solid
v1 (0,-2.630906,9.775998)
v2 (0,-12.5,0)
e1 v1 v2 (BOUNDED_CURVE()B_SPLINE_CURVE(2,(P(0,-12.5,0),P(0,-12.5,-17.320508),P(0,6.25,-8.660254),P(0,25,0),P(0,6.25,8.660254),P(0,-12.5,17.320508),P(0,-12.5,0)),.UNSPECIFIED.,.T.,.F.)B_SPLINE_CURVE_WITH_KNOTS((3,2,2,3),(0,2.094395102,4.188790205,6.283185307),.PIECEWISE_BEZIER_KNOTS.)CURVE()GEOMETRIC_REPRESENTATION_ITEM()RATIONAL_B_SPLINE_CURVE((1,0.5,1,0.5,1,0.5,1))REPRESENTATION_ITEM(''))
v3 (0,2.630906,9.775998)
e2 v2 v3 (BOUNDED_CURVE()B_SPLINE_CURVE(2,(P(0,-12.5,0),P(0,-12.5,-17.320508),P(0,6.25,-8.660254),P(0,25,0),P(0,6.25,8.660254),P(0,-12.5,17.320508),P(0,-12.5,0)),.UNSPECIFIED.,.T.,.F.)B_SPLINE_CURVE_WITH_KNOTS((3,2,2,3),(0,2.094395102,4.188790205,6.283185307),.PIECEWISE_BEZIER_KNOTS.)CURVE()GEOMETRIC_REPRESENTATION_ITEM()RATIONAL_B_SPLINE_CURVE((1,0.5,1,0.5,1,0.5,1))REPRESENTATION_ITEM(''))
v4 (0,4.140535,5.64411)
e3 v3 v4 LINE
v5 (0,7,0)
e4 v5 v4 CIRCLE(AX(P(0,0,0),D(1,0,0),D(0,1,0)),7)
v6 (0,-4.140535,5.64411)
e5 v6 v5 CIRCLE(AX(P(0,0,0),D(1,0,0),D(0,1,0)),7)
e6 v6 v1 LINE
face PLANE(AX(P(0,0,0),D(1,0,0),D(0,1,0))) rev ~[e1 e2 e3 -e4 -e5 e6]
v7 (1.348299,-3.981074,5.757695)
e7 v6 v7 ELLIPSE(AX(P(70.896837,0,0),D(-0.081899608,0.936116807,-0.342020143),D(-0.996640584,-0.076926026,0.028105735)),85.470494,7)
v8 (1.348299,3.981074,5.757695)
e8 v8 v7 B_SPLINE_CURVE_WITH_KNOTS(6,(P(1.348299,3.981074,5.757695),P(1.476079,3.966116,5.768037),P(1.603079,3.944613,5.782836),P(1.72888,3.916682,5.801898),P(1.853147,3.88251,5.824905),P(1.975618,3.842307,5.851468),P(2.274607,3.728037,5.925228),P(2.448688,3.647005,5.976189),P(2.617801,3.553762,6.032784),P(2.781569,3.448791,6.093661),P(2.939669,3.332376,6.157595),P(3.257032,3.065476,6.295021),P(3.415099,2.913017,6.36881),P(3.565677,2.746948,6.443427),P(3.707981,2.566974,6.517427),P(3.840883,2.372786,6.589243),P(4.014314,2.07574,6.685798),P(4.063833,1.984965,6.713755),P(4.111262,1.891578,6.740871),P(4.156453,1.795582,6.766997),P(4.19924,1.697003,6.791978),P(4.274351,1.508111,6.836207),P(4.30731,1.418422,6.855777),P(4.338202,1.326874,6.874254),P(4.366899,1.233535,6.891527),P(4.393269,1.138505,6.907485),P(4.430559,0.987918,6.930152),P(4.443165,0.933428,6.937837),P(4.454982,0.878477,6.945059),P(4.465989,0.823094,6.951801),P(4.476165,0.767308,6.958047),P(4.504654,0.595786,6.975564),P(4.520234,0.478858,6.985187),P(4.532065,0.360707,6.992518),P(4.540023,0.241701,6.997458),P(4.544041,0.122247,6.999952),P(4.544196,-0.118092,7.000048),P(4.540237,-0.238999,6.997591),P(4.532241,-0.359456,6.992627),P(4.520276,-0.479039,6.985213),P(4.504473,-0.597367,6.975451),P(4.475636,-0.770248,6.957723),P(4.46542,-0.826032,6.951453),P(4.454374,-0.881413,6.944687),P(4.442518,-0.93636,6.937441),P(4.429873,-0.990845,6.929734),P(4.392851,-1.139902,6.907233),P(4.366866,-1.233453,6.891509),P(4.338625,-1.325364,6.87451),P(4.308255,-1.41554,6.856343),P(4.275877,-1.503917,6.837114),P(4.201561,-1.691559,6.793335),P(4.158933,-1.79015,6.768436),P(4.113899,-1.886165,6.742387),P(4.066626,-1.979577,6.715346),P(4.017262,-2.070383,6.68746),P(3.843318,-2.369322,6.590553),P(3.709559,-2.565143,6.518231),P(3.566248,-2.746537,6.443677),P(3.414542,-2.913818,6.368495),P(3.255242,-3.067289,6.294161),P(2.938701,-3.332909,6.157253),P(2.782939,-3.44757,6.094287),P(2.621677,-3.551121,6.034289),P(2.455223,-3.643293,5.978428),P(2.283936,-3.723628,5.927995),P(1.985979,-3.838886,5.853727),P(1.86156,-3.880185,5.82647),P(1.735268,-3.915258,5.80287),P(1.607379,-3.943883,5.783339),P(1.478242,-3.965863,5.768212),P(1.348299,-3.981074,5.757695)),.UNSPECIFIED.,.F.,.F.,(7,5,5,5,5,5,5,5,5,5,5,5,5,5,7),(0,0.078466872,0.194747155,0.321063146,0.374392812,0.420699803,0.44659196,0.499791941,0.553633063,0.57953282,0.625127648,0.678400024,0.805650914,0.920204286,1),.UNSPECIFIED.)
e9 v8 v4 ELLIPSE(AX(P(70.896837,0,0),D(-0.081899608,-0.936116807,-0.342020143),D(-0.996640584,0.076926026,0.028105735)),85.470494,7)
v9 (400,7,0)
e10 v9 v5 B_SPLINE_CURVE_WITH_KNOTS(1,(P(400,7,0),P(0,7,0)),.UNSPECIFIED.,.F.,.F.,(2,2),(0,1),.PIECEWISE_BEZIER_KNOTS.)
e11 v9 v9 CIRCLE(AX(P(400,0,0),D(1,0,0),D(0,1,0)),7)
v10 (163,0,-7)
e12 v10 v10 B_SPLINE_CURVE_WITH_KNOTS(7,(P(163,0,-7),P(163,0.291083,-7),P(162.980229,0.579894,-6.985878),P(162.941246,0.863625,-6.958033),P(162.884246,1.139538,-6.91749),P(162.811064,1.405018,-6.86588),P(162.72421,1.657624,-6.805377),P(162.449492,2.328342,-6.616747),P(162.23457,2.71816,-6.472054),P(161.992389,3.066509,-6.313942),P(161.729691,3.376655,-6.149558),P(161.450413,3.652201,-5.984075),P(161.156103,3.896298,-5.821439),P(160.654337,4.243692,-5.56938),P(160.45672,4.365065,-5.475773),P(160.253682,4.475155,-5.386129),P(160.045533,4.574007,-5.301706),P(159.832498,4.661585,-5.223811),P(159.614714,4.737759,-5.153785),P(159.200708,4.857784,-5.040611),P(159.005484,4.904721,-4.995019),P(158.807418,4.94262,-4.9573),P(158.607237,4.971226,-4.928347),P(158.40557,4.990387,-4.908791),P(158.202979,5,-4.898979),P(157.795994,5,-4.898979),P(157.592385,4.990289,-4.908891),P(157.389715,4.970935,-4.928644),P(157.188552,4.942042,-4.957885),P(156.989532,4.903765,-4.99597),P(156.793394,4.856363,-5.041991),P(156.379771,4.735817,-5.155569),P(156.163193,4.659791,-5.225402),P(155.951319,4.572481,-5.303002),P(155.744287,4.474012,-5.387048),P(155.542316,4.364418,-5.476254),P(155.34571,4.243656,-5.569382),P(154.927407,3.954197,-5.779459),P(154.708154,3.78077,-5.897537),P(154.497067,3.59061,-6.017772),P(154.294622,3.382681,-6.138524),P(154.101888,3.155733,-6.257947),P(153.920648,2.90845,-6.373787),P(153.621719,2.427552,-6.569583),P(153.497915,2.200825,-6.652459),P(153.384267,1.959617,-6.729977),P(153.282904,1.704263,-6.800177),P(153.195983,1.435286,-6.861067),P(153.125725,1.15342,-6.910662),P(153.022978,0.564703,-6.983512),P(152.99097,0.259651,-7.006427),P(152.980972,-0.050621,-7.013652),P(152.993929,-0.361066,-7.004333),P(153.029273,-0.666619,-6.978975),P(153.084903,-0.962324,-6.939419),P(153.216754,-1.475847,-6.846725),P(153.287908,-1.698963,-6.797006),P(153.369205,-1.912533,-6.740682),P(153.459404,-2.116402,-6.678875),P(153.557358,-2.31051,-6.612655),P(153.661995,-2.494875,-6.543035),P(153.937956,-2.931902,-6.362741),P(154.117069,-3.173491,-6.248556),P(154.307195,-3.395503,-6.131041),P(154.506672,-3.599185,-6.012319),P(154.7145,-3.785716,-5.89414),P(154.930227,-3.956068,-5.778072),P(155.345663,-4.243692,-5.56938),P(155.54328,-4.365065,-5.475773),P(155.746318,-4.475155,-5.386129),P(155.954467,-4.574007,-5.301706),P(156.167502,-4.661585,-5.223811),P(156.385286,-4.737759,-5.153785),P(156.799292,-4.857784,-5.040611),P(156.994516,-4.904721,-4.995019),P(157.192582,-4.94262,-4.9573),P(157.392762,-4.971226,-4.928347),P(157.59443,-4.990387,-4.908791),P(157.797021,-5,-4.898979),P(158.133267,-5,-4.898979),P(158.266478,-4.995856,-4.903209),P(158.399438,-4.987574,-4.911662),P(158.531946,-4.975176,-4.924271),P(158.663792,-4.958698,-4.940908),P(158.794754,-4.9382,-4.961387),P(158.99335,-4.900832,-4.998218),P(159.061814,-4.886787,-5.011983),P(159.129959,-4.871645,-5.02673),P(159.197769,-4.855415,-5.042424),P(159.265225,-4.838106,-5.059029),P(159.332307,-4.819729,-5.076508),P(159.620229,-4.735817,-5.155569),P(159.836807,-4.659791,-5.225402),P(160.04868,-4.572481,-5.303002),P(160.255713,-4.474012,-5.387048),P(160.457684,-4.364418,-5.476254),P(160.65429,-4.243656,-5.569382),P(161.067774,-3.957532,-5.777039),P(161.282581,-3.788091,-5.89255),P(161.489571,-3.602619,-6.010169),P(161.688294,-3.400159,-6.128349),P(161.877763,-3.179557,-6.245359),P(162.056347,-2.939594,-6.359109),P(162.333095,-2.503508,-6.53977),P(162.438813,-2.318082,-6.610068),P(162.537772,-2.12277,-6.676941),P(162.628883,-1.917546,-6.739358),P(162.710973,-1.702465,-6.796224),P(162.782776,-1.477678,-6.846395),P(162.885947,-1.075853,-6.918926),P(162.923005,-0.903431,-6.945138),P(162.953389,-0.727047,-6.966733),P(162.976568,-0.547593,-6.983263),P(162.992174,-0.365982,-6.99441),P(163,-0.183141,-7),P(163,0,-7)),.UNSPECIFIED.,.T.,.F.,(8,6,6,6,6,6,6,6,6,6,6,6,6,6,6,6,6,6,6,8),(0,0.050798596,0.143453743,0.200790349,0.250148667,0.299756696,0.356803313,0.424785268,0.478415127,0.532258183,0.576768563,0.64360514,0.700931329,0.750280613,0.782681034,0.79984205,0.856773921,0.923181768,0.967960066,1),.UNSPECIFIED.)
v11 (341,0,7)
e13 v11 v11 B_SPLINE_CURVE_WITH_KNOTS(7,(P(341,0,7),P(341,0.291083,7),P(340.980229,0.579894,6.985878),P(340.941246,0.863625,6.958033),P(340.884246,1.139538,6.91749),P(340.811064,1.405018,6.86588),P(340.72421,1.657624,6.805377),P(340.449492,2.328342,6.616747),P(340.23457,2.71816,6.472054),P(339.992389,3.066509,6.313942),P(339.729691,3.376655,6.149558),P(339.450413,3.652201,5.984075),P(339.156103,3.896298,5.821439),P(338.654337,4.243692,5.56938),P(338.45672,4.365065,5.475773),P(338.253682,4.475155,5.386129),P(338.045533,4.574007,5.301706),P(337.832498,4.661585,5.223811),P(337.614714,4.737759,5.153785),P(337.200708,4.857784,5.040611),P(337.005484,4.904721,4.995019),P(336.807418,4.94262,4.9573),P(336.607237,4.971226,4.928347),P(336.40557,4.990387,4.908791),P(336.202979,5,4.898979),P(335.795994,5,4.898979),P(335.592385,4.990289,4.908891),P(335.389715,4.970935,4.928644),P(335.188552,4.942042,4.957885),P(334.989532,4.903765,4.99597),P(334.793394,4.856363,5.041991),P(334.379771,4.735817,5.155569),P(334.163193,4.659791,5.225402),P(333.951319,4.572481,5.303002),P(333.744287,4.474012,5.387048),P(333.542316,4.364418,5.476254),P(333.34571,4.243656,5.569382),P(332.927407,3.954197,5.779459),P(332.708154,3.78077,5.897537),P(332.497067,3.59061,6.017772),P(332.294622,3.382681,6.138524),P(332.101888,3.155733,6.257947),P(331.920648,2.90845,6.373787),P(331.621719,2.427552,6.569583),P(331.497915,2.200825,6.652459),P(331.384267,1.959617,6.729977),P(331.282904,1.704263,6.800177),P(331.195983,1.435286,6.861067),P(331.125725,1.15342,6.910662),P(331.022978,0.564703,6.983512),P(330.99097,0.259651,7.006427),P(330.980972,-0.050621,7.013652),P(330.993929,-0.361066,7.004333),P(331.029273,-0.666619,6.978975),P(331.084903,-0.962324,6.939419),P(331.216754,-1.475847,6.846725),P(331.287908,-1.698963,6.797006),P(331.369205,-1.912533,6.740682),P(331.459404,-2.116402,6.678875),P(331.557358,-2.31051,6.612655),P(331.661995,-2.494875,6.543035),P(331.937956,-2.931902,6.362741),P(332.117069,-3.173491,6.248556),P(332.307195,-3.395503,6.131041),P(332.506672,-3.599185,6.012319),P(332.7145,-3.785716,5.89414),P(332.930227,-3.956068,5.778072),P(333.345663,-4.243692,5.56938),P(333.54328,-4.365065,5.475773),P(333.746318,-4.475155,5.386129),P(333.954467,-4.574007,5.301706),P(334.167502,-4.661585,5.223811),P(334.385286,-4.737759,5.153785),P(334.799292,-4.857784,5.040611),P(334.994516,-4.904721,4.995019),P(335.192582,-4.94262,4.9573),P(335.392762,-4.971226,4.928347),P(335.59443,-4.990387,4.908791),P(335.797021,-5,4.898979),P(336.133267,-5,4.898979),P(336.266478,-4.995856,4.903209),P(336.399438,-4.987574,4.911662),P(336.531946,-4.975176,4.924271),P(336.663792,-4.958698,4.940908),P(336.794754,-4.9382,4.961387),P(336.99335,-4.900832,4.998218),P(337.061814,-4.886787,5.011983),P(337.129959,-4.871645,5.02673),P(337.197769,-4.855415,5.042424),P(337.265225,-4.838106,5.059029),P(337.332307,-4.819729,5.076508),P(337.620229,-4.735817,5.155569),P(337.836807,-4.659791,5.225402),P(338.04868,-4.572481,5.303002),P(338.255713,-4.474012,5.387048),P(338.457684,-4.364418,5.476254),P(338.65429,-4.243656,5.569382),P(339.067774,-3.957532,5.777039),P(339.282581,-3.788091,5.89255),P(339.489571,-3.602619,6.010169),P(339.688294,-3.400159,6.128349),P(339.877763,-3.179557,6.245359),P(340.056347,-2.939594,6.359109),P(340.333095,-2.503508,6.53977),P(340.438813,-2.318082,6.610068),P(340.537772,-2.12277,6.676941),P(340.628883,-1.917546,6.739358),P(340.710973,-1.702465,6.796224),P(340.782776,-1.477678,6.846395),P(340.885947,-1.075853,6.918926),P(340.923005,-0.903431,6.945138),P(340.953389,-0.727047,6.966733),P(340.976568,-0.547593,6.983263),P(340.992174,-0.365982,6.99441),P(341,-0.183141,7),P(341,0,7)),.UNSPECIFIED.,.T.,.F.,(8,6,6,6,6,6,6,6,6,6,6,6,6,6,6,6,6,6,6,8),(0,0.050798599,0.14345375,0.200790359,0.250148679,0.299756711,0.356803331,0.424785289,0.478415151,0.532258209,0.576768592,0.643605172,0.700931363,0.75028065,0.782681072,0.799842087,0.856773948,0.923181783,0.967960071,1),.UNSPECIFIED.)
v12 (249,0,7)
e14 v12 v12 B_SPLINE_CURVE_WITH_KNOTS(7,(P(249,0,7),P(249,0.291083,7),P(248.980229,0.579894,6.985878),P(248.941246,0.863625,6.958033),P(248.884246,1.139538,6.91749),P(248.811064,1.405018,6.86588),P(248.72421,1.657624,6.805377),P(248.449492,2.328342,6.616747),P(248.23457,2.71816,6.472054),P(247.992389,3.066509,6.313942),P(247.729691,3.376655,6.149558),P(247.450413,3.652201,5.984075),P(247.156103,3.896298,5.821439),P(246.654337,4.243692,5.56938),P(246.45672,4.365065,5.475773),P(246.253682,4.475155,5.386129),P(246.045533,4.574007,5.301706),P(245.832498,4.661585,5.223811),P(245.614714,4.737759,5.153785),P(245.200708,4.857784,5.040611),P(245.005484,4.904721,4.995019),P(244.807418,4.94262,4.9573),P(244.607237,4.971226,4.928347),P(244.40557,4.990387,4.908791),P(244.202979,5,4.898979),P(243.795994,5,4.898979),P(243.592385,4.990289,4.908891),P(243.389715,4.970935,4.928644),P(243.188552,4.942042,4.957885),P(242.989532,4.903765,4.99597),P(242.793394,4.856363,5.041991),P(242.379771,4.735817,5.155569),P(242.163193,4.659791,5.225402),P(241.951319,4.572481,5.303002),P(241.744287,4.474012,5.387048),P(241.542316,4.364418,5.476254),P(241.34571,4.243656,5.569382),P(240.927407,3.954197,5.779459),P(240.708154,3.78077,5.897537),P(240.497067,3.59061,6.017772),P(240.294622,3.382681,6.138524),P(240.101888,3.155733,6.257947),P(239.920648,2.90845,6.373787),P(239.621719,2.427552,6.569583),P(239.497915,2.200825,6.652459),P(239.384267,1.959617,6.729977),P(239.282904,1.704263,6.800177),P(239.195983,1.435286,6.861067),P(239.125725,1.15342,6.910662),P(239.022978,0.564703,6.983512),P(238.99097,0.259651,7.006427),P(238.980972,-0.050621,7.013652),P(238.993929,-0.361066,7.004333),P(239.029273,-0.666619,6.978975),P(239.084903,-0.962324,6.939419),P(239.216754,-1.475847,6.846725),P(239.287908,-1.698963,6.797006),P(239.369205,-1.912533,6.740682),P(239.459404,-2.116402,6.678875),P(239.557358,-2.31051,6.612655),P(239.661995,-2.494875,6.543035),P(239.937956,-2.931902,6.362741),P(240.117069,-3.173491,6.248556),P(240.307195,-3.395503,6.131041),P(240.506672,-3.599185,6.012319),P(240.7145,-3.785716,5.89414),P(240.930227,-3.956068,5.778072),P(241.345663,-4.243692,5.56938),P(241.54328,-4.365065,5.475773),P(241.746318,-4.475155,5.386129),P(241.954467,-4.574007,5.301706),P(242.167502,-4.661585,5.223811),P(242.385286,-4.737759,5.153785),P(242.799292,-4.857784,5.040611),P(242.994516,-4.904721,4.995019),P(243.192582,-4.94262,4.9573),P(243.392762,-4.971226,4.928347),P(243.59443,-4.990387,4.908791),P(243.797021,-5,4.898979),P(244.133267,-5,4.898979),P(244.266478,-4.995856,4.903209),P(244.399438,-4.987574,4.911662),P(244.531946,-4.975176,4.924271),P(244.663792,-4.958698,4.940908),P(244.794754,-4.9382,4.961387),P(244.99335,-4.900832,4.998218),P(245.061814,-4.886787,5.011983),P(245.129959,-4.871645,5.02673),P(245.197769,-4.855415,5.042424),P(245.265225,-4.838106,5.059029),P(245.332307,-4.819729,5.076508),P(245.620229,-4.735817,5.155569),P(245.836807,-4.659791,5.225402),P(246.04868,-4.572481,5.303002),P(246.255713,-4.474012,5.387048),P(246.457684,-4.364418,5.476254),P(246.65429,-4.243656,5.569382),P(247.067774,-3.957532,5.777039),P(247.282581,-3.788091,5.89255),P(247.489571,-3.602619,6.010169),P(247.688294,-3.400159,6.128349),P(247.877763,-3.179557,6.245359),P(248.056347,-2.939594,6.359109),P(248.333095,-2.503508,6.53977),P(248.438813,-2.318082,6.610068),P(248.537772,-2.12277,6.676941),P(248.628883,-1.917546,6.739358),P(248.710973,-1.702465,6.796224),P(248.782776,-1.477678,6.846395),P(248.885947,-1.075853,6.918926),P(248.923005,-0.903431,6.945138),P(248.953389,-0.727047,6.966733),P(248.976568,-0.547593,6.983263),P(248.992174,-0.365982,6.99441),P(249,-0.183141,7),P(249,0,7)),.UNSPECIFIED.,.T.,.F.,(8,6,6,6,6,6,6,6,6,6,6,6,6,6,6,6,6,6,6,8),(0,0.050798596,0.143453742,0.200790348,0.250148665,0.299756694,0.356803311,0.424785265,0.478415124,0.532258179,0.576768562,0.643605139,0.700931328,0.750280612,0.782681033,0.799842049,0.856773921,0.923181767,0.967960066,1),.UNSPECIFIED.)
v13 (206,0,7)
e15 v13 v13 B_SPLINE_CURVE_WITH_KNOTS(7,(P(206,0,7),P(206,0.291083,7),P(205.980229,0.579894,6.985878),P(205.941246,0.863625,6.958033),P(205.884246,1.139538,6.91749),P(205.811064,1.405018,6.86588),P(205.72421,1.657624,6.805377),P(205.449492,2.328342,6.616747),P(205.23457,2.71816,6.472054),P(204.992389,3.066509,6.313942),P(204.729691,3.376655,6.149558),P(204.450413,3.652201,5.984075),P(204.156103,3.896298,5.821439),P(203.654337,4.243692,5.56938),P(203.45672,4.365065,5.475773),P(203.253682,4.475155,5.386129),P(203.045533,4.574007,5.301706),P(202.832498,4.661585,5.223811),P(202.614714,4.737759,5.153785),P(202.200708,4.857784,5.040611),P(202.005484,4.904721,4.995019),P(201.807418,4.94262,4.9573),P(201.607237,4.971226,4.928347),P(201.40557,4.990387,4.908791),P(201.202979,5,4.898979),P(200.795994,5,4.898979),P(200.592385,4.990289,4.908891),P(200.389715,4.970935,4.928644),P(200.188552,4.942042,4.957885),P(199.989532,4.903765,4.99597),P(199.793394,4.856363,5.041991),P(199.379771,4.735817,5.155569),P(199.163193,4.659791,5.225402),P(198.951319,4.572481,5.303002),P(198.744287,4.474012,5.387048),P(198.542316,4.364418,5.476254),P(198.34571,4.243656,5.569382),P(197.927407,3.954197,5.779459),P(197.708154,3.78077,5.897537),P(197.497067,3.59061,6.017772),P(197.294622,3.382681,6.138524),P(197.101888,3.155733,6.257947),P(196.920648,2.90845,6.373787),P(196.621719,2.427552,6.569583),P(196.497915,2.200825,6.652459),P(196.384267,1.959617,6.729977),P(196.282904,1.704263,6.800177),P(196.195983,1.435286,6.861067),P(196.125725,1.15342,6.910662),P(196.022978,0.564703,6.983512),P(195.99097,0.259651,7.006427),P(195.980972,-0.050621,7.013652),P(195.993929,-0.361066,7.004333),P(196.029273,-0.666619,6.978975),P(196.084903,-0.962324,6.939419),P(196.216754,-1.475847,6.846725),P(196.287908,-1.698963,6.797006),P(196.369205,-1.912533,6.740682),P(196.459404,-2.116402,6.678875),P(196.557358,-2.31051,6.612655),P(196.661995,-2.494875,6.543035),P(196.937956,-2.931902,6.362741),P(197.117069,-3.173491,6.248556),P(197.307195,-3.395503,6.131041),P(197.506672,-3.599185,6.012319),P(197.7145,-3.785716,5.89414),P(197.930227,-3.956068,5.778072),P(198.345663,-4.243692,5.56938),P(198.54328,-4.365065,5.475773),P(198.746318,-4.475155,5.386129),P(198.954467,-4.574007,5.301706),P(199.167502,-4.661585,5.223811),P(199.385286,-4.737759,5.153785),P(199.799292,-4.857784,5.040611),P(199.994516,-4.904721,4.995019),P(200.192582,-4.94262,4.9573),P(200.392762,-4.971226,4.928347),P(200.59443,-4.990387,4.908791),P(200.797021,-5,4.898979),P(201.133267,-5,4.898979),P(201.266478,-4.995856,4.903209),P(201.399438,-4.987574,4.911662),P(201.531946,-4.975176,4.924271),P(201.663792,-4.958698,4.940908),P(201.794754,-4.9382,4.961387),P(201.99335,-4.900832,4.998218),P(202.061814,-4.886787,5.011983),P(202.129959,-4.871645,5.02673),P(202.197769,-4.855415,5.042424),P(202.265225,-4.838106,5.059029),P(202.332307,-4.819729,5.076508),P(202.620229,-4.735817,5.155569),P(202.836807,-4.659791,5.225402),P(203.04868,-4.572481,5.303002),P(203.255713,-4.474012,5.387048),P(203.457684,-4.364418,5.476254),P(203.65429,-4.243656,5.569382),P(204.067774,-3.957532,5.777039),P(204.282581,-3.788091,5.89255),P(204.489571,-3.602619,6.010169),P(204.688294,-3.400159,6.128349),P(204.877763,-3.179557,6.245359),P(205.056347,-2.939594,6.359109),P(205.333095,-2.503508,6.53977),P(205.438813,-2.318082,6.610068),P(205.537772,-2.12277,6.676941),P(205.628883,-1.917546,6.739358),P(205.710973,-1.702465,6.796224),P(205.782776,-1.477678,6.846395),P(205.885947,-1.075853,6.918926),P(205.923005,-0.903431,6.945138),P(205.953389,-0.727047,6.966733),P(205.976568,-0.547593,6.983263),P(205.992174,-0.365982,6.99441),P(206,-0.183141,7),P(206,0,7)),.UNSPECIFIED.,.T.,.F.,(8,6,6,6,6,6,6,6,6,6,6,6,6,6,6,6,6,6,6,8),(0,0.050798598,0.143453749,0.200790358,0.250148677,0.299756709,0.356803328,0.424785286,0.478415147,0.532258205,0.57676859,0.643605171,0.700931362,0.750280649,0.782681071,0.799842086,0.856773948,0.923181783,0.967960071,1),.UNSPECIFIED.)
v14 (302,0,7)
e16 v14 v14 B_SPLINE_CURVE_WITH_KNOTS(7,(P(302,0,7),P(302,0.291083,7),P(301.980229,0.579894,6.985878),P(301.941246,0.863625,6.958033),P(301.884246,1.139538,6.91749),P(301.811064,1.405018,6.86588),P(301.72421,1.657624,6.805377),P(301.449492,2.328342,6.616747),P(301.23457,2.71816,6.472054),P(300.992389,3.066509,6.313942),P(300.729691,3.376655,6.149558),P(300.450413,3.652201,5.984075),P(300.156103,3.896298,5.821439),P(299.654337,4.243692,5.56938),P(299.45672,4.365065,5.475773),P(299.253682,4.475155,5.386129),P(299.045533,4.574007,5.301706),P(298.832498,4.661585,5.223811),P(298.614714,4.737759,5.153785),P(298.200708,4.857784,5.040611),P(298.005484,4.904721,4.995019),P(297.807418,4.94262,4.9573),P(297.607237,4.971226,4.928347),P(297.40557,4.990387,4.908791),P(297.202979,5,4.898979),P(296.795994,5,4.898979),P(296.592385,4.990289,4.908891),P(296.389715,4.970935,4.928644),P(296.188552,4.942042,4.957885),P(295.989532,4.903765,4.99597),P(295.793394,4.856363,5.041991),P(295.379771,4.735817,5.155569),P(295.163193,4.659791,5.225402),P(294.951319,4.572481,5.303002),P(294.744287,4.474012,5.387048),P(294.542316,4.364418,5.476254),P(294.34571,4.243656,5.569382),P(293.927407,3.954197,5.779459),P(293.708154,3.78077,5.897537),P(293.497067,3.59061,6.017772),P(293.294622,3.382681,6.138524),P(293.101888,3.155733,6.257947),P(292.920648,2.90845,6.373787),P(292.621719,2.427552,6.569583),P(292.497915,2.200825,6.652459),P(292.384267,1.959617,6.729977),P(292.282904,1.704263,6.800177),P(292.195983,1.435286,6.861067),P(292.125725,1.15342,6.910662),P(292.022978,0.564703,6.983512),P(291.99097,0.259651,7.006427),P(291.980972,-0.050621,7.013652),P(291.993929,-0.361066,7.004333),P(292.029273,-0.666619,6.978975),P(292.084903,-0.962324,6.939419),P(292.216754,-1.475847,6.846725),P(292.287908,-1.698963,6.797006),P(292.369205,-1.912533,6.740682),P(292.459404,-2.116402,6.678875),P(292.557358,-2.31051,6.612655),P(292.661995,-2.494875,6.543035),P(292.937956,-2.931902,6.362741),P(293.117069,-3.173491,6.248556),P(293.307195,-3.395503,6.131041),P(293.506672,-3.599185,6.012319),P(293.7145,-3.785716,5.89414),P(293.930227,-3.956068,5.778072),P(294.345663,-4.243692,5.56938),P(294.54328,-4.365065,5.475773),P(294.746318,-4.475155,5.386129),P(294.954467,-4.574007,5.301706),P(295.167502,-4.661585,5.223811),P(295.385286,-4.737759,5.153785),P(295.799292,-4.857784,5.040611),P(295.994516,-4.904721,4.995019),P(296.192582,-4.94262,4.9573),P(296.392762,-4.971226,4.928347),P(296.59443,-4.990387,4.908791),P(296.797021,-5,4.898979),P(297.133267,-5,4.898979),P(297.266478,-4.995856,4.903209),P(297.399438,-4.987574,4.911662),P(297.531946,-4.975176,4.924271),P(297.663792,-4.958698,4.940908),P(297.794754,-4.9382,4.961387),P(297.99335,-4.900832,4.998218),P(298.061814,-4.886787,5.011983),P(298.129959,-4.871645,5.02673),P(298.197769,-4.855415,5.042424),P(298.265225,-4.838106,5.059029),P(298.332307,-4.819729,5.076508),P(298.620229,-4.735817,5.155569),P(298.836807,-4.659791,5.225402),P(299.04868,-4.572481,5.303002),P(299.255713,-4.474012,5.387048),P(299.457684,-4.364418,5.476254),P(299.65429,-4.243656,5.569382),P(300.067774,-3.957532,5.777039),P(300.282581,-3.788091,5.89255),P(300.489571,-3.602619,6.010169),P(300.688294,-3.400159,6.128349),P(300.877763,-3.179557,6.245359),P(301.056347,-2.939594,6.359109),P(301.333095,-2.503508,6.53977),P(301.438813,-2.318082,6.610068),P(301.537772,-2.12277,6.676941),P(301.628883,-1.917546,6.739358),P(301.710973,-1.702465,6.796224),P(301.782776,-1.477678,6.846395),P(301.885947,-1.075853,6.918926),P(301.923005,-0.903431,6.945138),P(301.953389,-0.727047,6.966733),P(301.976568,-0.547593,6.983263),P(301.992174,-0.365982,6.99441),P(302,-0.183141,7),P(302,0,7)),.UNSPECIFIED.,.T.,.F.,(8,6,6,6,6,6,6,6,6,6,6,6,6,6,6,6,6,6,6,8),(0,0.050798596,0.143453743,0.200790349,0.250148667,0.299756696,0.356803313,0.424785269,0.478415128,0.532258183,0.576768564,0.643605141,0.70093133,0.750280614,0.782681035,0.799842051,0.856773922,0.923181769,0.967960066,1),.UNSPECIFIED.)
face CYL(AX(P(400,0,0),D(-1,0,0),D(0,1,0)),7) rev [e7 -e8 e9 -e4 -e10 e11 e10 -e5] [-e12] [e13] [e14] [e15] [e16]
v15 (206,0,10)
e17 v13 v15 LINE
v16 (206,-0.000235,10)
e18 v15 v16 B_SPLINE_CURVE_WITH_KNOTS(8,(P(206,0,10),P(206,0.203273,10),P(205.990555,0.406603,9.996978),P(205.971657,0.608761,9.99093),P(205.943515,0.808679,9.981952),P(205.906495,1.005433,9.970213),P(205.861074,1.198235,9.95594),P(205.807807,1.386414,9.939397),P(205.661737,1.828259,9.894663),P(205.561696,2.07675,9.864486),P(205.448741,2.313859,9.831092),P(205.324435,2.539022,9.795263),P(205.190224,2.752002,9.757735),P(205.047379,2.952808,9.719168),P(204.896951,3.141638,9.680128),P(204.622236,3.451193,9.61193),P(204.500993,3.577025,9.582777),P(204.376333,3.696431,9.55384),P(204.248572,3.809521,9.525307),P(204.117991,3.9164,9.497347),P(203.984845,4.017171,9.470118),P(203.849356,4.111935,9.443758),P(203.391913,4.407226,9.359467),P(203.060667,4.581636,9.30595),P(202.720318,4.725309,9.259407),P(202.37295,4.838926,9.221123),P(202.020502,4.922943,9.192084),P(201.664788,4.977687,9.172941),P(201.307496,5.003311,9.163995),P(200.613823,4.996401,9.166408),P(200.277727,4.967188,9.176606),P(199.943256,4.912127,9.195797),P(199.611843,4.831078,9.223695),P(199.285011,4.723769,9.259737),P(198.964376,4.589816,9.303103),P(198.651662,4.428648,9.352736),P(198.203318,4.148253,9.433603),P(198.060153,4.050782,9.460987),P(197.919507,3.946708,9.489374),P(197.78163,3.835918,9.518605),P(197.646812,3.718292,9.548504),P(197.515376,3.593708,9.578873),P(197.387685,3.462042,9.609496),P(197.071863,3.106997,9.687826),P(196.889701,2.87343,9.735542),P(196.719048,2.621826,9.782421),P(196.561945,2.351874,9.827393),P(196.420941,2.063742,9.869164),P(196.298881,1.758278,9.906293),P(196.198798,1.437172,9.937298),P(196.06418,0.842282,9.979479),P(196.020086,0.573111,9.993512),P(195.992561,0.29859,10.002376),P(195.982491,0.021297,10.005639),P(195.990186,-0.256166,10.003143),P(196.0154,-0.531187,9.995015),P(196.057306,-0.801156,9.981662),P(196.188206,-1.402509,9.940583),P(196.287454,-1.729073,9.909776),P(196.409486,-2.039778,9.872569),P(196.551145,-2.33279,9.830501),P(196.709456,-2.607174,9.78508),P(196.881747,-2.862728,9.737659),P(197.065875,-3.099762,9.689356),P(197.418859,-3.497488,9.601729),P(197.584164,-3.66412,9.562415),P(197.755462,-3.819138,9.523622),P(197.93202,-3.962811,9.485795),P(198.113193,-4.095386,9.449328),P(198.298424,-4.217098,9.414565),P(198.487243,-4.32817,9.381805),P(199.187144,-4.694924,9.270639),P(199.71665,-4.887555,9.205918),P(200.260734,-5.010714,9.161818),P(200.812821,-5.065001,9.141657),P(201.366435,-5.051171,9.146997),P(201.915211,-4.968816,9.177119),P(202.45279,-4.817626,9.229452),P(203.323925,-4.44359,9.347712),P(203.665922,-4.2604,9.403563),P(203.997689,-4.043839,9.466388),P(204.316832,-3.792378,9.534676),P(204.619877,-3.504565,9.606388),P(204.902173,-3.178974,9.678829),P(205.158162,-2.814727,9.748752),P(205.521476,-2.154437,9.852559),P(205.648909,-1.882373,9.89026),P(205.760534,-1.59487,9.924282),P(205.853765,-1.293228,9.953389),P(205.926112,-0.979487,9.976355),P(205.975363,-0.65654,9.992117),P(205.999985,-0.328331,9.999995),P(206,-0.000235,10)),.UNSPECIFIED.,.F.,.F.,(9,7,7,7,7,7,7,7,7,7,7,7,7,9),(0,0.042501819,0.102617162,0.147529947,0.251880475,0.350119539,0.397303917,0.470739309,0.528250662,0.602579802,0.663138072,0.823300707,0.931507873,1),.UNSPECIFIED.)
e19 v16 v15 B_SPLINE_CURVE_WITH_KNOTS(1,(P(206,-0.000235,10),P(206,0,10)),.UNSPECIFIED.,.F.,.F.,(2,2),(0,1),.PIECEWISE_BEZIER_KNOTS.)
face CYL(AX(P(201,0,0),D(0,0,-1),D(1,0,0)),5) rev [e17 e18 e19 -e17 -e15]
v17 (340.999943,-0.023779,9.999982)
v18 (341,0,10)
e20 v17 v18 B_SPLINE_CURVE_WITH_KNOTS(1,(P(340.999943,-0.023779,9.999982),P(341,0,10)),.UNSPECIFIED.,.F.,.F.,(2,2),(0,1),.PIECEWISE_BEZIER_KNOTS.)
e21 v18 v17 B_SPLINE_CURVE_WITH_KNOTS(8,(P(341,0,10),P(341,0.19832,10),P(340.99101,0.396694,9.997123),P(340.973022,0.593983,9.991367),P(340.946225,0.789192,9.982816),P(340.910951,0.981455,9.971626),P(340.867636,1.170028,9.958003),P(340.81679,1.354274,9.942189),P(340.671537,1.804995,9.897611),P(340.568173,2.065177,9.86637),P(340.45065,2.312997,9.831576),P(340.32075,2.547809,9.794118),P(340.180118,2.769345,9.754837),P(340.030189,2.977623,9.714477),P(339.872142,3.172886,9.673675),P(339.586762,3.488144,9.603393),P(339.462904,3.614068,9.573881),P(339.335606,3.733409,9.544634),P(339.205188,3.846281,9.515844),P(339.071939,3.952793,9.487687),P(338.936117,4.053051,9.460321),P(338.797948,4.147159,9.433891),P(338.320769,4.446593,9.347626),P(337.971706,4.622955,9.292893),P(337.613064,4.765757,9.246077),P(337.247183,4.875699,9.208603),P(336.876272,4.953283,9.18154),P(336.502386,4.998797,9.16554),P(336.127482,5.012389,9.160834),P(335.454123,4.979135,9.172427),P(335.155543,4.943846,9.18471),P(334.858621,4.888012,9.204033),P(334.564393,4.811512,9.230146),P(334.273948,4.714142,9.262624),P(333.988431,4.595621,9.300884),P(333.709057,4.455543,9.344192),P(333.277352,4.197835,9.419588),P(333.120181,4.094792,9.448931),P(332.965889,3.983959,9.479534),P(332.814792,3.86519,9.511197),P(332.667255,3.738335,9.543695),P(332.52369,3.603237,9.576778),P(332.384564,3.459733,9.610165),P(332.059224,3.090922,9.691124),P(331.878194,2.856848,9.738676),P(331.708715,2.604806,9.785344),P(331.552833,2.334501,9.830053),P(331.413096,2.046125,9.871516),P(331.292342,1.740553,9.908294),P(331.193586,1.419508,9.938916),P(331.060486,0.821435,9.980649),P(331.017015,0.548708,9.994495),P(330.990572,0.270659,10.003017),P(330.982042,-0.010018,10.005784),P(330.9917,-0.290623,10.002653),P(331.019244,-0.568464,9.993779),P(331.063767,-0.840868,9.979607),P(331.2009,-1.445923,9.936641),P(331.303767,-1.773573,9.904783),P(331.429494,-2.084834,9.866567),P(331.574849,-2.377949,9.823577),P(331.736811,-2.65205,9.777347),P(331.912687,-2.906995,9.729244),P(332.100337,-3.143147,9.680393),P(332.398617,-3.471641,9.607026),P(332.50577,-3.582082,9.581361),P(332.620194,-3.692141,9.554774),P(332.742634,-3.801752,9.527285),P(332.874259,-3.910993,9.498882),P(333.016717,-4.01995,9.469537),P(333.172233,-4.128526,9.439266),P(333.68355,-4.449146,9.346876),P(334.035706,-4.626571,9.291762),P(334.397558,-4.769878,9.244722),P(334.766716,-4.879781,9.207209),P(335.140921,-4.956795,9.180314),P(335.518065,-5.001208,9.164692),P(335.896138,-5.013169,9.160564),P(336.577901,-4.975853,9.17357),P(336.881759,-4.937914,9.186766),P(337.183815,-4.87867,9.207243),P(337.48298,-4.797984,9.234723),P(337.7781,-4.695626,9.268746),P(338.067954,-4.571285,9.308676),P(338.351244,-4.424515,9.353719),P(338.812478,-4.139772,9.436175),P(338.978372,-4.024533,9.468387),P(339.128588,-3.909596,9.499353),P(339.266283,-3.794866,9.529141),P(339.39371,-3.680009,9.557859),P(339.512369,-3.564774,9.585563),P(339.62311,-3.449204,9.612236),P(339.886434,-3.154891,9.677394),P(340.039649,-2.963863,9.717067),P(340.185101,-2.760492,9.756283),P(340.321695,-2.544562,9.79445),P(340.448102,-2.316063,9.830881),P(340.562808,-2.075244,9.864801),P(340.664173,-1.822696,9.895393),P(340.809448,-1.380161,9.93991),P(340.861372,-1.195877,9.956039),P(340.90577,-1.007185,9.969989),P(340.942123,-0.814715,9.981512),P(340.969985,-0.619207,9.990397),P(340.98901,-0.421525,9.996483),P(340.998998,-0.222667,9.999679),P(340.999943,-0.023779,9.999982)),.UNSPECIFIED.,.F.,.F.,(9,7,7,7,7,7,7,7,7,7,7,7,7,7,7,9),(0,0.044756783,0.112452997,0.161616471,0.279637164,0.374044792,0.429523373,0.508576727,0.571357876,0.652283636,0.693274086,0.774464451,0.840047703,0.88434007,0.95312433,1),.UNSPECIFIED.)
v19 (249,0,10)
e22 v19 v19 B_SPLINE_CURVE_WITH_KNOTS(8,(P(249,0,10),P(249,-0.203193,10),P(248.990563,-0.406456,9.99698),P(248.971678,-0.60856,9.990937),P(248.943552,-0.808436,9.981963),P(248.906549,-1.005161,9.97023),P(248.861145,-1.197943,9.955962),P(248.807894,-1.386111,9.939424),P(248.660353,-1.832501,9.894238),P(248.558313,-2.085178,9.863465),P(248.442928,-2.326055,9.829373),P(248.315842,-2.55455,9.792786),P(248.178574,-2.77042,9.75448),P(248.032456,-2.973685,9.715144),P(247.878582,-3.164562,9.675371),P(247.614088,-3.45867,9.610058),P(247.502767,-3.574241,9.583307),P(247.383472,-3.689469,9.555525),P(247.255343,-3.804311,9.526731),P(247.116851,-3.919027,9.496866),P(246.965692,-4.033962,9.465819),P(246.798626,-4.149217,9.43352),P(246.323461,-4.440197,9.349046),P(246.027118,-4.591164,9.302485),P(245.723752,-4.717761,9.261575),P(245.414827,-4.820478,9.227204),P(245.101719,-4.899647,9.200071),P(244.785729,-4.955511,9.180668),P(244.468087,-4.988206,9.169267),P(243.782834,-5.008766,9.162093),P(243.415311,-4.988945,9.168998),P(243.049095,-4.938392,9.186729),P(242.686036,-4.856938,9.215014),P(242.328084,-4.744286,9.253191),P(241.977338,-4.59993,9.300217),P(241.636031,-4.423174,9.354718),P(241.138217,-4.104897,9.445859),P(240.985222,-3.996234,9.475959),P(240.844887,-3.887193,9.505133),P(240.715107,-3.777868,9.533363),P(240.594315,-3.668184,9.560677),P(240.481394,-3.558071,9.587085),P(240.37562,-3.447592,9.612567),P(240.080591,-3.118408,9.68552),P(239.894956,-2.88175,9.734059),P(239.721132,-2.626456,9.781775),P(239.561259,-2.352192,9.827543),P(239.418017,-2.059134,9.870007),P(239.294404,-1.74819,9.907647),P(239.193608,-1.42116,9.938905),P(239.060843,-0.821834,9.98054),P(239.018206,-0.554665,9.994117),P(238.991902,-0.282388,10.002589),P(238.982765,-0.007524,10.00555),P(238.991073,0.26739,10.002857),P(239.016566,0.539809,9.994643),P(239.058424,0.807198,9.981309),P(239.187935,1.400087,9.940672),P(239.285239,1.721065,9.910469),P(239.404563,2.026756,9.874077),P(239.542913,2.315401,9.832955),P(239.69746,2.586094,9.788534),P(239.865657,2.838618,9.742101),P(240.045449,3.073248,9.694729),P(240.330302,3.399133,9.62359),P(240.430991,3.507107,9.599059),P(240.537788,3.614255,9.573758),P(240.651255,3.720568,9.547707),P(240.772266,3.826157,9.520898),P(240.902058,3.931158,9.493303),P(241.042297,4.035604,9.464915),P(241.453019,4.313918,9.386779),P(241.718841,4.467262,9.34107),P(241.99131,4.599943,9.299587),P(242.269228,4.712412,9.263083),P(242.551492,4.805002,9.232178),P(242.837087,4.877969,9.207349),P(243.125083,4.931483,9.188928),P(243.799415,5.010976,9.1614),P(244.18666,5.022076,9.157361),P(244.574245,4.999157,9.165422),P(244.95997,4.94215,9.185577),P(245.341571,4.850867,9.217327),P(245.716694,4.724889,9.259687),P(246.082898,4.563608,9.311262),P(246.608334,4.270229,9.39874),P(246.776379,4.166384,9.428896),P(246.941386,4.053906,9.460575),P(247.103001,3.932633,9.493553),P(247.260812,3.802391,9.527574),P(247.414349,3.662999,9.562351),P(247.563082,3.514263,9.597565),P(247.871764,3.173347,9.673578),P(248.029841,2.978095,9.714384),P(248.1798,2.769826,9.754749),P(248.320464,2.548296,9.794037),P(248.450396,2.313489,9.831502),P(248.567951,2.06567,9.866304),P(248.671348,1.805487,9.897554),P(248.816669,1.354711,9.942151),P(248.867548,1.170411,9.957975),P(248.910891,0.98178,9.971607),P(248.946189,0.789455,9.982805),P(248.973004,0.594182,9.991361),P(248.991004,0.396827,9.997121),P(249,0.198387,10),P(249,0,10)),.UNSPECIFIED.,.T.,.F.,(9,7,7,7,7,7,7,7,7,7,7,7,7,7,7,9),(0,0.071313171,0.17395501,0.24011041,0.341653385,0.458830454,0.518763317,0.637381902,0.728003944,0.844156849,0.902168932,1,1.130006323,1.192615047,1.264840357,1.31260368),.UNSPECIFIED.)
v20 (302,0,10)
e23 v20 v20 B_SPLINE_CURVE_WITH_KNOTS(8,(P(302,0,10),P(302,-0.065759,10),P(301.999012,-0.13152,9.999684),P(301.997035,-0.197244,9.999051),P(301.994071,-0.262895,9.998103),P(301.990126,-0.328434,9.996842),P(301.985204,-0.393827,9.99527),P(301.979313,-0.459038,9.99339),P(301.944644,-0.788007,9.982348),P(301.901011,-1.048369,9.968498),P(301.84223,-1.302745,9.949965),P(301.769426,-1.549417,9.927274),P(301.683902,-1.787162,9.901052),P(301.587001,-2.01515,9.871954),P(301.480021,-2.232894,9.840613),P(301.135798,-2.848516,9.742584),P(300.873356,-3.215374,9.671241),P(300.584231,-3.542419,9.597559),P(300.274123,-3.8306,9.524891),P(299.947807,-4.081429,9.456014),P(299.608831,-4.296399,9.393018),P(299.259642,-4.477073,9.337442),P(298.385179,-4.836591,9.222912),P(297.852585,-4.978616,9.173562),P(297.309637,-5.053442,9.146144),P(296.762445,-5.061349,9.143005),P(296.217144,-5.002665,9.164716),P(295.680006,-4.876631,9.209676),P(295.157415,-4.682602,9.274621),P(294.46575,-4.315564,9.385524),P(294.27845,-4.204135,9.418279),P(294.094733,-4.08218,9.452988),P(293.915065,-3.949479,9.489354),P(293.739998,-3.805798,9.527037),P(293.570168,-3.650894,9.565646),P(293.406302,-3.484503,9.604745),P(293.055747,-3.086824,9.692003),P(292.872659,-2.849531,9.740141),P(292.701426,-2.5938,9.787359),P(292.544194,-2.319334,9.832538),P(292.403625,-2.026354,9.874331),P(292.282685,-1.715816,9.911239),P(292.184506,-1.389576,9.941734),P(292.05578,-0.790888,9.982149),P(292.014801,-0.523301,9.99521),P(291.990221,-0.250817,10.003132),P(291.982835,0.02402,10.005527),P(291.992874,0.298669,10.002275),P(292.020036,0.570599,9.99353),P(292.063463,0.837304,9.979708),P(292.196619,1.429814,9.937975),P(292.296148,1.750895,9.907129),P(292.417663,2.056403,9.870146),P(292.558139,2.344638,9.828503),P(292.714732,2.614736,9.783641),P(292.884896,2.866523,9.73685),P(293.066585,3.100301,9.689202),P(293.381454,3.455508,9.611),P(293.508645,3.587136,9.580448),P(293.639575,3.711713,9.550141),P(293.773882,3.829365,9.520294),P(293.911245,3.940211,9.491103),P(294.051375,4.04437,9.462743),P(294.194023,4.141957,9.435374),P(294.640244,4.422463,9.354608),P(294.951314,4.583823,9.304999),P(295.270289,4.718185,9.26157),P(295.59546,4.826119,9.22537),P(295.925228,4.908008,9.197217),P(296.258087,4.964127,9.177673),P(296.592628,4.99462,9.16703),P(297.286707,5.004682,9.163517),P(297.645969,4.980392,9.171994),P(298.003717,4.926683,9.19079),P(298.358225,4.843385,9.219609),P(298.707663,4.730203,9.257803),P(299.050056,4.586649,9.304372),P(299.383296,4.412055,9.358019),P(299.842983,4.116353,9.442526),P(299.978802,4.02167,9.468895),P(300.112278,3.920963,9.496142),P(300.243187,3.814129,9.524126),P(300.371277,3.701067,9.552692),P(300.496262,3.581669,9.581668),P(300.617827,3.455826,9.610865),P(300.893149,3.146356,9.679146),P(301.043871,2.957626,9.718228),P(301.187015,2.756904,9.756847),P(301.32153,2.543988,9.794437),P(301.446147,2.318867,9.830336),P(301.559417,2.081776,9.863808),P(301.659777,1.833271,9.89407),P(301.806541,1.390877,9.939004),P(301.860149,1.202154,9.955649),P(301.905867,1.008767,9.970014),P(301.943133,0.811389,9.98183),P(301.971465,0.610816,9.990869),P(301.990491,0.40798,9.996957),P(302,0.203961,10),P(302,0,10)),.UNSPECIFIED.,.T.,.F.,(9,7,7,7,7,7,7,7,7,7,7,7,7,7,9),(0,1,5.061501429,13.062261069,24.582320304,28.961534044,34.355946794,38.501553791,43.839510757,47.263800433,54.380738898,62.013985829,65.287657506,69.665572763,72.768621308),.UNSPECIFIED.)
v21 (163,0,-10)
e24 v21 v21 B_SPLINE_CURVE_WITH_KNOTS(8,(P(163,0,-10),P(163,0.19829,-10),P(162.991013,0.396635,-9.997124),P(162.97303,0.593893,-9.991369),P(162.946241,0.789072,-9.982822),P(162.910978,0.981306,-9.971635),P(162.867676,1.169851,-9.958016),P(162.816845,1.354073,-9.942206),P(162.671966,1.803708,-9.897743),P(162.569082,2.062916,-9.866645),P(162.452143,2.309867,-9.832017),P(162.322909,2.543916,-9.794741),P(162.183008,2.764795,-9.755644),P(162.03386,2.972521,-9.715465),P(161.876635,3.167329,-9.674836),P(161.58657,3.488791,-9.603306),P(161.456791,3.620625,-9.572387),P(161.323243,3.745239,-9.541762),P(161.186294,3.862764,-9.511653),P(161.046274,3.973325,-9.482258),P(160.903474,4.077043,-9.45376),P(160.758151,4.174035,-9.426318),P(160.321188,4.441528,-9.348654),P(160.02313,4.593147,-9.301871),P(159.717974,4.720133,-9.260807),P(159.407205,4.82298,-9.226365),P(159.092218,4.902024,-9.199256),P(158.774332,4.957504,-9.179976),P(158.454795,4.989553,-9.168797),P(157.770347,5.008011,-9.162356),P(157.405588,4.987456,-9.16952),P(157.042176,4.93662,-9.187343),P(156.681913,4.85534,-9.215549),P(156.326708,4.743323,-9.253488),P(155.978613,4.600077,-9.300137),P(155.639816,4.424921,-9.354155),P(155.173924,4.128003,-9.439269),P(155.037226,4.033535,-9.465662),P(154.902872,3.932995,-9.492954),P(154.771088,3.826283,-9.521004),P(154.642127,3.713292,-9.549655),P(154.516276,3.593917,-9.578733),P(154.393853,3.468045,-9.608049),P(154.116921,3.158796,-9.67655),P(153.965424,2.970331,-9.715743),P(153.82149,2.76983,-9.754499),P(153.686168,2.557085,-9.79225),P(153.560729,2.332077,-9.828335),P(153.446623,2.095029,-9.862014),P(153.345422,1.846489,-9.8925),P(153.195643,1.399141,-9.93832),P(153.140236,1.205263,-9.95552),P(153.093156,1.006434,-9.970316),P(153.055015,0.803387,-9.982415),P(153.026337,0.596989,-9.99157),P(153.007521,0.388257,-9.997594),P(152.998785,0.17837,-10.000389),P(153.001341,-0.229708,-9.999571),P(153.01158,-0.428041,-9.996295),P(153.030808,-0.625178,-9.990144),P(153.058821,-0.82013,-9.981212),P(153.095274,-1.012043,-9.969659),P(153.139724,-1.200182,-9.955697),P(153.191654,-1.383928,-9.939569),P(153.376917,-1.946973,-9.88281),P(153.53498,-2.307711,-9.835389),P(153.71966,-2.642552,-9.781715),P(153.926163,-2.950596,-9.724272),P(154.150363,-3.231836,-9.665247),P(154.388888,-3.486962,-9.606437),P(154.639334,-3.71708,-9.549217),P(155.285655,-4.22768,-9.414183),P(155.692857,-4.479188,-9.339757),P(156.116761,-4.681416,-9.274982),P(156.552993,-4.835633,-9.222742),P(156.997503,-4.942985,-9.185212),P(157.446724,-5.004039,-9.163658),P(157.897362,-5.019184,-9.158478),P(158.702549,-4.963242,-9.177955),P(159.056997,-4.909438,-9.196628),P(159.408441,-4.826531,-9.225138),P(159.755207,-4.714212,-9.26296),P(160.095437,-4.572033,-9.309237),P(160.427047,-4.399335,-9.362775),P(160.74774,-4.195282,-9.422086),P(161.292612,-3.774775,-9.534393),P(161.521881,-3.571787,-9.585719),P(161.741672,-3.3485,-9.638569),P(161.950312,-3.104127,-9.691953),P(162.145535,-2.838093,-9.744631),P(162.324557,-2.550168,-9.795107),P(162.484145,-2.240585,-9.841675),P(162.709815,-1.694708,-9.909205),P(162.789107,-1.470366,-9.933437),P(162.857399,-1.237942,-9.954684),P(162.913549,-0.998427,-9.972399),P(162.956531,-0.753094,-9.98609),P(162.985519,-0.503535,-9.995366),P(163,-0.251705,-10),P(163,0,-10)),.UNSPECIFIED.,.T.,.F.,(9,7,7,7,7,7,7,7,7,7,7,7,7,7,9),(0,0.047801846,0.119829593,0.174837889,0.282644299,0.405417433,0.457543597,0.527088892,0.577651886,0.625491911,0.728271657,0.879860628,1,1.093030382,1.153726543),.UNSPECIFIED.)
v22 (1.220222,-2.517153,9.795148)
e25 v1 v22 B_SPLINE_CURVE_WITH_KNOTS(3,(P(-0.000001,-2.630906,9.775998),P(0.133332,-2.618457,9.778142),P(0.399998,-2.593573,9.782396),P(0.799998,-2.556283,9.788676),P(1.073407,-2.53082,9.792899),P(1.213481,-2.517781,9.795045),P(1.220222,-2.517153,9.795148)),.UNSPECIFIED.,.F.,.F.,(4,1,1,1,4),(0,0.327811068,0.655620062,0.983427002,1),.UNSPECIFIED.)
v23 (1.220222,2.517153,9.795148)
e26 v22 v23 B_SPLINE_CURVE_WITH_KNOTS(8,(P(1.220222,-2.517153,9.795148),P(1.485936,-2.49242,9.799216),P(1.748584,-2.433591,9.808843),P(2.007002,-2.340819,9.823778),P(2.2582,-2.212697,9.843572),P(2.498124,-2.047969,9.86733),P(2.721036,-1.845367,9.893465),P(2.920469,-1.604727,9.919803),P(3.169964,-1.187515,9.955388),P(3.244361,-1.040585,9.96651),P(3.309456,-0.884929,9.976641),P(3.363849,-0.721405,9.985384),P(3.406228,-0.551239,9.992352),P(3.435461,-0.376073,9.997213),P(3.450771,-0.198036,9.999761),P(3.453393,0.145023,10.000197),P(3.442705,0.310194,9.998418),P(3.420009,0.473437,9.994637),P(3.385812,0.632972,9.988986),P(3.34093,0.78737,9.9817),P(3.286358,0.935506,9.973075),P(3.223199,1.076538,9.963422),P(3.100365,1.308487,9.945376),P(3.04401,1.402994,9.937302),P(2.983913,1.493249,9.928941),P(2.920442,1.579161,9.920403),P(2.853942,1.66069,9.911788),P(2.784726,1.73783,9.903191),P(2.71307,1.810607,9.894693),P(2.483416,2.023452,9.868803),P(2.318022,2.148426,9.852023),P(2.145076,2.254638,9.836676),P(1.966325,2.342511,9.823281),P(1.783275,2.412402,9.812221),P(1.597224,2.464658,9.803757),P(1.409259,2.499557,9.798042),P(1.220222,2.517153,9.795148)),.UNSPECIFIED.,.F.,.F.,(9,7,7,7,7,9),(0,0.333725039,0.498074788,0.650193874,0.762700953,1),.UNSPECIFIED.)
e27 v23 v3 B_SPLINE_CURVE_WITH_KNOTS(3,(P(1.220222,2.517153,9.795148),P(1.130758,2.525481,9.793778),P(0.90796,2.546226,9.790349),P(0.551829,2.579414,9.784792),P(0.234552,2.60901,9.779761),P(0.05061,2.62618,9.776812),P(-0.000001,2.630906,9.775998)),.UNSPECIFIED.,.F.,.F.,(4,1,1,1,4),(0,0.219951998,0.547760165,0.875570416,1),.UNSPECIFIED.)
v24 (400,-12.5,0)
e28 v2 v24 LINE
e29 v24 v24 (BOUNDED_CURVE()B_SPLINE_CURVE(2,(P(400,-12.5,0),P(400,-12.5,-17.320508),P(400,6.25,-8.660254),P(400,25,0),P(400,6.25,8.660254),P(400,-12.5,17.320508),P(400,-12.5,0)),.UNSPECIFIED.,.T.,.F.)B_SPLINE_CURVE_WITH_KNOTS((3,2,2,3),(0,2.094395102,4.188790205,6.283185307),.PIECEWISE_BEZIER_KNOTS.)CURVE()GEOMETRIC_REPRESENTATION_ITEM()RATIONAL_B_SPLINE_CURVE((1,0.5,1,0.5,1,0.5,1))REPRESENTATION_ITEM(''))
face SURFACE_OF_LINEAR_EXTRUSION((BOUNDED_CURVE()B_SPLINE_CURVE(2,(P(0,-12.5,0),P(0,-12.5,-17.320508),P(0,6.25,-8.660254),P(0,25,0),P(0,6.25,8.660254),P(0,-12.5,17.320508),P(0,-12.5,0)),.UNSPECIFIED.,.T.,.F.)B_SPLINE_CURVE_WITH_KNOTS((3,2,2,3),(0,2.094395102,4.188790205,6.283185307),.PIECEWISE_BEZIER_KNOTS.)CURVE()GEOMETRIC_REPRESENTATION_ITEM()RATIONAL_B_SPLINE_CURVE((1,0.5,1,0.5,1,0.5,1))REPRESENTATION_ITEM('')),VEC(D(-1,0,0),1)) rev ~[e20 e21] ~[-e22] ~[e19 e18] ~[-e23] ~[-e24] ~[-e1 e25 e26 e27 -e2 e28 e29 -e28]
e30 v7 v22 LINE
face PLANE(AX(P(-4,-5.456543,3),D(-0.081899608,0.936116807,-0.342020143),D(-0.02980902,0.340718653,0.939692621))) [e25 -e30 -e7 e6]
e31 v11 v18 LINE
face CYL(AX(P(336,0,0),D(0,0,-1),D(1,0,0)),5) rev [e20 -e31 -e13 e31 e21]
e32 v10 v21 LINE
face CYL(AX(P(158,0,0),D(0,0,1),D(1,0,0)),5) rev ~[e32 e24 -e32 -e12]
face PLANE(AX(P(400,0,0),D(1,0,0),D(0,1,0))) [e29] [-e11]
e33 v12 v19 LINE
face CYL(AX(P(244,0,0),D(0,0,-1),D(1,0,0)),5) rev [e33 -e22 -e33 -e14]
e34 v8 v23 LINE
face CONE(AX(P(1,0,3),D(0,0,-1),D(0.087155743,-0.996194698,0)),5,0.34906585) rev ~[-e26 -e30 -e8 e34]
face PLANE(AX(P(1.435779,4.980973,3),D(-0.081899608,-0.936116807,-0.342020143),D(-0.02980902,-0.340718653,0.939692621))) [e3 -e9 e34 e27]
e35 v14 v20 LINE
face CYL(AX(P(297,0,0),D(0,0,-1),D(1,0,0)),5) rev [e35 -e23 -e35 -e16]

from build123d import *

# Parameters (mm, degrees)
F1_DEPTH  = 400
F2_R      = 7
F3_R      = 7
F10_R     = 5
F6_DEPTH  = 25
F11_DEPTH = 25
F9_DEPTH  = 7.0010001011
F9_TAPER  = 20


with BuildPart() as f1:
    # F0 (on Right) → F1 (new body)
    with BuildSketch(Plane.YZ):
        with BuildLine():
            add(Edge.make_bspline(
                [(-12.5, 0), (-12.5, -17.3205080757), (6.25, -8.6602540378), (25, 0), (6.25, 8.6602540378), (-12.5, 17.3205080757), (-12.5, 0)],
                knots=[0, 0, 0, 2.0943951024, 2.0943951024, 4.1887902048, 4.1887902048, 6.2831853072, 6.2831853072, 6.2831853072], degree=2, weights=[1, 0.5, 1, 0.5, 1, 0.5, 1]))
        make_face()
    extrude(amount=F1_DEPTH)

    # F2 (on face) → F4 section 0
    with BuildSketch(Plane.YZ.offset(400)):
        Circle(F2_R)
    # F3 (on Right) → F4 section 1
    with BuildSketch(Plane.YZ):
        Circle(F3_R)
    loft(mode=Mode.SUBTRACT)

    # F10 (on Top) → F6 (cut)
    with BuildSketch(Plane.XY):
        with Locations((336, 0)):
            Circle(F10_R)
        with Locations((297, 0)):
            Circle(F10_R)
        with Locations((244, 0)):
            Circle(F10_R)
        with Locations((201, 0)):
            Circle(F10_R)
    extrude(amount=F6_DEPTH, mode=Mode.SUBTRACT)

    # F10 (on Top) → F11 (cut)
    with BuildSketch(Plane.XY):
        with Locations((158, 0)):
            Circle(F10_R)
    extrude(amount=-F11_DEPTH, mode=Mode.SUBTRACT)

    # F8 (on offset) → F9 (cut, through all)
    with BuildSketch(Plane.XY.offset(3)):
        with BuildLine():
            Line((-4, -5.4565425053), (1.4357787137, -4.9809734905))
            ThreePointArc((1.4357787137, -4.9809734905), (6, 0), (1.4357787137, 4.9809734905))
            Line((1.4357787137, 4.9809734905), (-4, 5.4565425053))
            Line((-4, 5.4565425053), (-4, -5.4565425053))
        make_face()
    extrude(amount=F9_DEPTH, taper=F9_TAPER, mode=Mode.SUBTRACT)


solid = f1.part
